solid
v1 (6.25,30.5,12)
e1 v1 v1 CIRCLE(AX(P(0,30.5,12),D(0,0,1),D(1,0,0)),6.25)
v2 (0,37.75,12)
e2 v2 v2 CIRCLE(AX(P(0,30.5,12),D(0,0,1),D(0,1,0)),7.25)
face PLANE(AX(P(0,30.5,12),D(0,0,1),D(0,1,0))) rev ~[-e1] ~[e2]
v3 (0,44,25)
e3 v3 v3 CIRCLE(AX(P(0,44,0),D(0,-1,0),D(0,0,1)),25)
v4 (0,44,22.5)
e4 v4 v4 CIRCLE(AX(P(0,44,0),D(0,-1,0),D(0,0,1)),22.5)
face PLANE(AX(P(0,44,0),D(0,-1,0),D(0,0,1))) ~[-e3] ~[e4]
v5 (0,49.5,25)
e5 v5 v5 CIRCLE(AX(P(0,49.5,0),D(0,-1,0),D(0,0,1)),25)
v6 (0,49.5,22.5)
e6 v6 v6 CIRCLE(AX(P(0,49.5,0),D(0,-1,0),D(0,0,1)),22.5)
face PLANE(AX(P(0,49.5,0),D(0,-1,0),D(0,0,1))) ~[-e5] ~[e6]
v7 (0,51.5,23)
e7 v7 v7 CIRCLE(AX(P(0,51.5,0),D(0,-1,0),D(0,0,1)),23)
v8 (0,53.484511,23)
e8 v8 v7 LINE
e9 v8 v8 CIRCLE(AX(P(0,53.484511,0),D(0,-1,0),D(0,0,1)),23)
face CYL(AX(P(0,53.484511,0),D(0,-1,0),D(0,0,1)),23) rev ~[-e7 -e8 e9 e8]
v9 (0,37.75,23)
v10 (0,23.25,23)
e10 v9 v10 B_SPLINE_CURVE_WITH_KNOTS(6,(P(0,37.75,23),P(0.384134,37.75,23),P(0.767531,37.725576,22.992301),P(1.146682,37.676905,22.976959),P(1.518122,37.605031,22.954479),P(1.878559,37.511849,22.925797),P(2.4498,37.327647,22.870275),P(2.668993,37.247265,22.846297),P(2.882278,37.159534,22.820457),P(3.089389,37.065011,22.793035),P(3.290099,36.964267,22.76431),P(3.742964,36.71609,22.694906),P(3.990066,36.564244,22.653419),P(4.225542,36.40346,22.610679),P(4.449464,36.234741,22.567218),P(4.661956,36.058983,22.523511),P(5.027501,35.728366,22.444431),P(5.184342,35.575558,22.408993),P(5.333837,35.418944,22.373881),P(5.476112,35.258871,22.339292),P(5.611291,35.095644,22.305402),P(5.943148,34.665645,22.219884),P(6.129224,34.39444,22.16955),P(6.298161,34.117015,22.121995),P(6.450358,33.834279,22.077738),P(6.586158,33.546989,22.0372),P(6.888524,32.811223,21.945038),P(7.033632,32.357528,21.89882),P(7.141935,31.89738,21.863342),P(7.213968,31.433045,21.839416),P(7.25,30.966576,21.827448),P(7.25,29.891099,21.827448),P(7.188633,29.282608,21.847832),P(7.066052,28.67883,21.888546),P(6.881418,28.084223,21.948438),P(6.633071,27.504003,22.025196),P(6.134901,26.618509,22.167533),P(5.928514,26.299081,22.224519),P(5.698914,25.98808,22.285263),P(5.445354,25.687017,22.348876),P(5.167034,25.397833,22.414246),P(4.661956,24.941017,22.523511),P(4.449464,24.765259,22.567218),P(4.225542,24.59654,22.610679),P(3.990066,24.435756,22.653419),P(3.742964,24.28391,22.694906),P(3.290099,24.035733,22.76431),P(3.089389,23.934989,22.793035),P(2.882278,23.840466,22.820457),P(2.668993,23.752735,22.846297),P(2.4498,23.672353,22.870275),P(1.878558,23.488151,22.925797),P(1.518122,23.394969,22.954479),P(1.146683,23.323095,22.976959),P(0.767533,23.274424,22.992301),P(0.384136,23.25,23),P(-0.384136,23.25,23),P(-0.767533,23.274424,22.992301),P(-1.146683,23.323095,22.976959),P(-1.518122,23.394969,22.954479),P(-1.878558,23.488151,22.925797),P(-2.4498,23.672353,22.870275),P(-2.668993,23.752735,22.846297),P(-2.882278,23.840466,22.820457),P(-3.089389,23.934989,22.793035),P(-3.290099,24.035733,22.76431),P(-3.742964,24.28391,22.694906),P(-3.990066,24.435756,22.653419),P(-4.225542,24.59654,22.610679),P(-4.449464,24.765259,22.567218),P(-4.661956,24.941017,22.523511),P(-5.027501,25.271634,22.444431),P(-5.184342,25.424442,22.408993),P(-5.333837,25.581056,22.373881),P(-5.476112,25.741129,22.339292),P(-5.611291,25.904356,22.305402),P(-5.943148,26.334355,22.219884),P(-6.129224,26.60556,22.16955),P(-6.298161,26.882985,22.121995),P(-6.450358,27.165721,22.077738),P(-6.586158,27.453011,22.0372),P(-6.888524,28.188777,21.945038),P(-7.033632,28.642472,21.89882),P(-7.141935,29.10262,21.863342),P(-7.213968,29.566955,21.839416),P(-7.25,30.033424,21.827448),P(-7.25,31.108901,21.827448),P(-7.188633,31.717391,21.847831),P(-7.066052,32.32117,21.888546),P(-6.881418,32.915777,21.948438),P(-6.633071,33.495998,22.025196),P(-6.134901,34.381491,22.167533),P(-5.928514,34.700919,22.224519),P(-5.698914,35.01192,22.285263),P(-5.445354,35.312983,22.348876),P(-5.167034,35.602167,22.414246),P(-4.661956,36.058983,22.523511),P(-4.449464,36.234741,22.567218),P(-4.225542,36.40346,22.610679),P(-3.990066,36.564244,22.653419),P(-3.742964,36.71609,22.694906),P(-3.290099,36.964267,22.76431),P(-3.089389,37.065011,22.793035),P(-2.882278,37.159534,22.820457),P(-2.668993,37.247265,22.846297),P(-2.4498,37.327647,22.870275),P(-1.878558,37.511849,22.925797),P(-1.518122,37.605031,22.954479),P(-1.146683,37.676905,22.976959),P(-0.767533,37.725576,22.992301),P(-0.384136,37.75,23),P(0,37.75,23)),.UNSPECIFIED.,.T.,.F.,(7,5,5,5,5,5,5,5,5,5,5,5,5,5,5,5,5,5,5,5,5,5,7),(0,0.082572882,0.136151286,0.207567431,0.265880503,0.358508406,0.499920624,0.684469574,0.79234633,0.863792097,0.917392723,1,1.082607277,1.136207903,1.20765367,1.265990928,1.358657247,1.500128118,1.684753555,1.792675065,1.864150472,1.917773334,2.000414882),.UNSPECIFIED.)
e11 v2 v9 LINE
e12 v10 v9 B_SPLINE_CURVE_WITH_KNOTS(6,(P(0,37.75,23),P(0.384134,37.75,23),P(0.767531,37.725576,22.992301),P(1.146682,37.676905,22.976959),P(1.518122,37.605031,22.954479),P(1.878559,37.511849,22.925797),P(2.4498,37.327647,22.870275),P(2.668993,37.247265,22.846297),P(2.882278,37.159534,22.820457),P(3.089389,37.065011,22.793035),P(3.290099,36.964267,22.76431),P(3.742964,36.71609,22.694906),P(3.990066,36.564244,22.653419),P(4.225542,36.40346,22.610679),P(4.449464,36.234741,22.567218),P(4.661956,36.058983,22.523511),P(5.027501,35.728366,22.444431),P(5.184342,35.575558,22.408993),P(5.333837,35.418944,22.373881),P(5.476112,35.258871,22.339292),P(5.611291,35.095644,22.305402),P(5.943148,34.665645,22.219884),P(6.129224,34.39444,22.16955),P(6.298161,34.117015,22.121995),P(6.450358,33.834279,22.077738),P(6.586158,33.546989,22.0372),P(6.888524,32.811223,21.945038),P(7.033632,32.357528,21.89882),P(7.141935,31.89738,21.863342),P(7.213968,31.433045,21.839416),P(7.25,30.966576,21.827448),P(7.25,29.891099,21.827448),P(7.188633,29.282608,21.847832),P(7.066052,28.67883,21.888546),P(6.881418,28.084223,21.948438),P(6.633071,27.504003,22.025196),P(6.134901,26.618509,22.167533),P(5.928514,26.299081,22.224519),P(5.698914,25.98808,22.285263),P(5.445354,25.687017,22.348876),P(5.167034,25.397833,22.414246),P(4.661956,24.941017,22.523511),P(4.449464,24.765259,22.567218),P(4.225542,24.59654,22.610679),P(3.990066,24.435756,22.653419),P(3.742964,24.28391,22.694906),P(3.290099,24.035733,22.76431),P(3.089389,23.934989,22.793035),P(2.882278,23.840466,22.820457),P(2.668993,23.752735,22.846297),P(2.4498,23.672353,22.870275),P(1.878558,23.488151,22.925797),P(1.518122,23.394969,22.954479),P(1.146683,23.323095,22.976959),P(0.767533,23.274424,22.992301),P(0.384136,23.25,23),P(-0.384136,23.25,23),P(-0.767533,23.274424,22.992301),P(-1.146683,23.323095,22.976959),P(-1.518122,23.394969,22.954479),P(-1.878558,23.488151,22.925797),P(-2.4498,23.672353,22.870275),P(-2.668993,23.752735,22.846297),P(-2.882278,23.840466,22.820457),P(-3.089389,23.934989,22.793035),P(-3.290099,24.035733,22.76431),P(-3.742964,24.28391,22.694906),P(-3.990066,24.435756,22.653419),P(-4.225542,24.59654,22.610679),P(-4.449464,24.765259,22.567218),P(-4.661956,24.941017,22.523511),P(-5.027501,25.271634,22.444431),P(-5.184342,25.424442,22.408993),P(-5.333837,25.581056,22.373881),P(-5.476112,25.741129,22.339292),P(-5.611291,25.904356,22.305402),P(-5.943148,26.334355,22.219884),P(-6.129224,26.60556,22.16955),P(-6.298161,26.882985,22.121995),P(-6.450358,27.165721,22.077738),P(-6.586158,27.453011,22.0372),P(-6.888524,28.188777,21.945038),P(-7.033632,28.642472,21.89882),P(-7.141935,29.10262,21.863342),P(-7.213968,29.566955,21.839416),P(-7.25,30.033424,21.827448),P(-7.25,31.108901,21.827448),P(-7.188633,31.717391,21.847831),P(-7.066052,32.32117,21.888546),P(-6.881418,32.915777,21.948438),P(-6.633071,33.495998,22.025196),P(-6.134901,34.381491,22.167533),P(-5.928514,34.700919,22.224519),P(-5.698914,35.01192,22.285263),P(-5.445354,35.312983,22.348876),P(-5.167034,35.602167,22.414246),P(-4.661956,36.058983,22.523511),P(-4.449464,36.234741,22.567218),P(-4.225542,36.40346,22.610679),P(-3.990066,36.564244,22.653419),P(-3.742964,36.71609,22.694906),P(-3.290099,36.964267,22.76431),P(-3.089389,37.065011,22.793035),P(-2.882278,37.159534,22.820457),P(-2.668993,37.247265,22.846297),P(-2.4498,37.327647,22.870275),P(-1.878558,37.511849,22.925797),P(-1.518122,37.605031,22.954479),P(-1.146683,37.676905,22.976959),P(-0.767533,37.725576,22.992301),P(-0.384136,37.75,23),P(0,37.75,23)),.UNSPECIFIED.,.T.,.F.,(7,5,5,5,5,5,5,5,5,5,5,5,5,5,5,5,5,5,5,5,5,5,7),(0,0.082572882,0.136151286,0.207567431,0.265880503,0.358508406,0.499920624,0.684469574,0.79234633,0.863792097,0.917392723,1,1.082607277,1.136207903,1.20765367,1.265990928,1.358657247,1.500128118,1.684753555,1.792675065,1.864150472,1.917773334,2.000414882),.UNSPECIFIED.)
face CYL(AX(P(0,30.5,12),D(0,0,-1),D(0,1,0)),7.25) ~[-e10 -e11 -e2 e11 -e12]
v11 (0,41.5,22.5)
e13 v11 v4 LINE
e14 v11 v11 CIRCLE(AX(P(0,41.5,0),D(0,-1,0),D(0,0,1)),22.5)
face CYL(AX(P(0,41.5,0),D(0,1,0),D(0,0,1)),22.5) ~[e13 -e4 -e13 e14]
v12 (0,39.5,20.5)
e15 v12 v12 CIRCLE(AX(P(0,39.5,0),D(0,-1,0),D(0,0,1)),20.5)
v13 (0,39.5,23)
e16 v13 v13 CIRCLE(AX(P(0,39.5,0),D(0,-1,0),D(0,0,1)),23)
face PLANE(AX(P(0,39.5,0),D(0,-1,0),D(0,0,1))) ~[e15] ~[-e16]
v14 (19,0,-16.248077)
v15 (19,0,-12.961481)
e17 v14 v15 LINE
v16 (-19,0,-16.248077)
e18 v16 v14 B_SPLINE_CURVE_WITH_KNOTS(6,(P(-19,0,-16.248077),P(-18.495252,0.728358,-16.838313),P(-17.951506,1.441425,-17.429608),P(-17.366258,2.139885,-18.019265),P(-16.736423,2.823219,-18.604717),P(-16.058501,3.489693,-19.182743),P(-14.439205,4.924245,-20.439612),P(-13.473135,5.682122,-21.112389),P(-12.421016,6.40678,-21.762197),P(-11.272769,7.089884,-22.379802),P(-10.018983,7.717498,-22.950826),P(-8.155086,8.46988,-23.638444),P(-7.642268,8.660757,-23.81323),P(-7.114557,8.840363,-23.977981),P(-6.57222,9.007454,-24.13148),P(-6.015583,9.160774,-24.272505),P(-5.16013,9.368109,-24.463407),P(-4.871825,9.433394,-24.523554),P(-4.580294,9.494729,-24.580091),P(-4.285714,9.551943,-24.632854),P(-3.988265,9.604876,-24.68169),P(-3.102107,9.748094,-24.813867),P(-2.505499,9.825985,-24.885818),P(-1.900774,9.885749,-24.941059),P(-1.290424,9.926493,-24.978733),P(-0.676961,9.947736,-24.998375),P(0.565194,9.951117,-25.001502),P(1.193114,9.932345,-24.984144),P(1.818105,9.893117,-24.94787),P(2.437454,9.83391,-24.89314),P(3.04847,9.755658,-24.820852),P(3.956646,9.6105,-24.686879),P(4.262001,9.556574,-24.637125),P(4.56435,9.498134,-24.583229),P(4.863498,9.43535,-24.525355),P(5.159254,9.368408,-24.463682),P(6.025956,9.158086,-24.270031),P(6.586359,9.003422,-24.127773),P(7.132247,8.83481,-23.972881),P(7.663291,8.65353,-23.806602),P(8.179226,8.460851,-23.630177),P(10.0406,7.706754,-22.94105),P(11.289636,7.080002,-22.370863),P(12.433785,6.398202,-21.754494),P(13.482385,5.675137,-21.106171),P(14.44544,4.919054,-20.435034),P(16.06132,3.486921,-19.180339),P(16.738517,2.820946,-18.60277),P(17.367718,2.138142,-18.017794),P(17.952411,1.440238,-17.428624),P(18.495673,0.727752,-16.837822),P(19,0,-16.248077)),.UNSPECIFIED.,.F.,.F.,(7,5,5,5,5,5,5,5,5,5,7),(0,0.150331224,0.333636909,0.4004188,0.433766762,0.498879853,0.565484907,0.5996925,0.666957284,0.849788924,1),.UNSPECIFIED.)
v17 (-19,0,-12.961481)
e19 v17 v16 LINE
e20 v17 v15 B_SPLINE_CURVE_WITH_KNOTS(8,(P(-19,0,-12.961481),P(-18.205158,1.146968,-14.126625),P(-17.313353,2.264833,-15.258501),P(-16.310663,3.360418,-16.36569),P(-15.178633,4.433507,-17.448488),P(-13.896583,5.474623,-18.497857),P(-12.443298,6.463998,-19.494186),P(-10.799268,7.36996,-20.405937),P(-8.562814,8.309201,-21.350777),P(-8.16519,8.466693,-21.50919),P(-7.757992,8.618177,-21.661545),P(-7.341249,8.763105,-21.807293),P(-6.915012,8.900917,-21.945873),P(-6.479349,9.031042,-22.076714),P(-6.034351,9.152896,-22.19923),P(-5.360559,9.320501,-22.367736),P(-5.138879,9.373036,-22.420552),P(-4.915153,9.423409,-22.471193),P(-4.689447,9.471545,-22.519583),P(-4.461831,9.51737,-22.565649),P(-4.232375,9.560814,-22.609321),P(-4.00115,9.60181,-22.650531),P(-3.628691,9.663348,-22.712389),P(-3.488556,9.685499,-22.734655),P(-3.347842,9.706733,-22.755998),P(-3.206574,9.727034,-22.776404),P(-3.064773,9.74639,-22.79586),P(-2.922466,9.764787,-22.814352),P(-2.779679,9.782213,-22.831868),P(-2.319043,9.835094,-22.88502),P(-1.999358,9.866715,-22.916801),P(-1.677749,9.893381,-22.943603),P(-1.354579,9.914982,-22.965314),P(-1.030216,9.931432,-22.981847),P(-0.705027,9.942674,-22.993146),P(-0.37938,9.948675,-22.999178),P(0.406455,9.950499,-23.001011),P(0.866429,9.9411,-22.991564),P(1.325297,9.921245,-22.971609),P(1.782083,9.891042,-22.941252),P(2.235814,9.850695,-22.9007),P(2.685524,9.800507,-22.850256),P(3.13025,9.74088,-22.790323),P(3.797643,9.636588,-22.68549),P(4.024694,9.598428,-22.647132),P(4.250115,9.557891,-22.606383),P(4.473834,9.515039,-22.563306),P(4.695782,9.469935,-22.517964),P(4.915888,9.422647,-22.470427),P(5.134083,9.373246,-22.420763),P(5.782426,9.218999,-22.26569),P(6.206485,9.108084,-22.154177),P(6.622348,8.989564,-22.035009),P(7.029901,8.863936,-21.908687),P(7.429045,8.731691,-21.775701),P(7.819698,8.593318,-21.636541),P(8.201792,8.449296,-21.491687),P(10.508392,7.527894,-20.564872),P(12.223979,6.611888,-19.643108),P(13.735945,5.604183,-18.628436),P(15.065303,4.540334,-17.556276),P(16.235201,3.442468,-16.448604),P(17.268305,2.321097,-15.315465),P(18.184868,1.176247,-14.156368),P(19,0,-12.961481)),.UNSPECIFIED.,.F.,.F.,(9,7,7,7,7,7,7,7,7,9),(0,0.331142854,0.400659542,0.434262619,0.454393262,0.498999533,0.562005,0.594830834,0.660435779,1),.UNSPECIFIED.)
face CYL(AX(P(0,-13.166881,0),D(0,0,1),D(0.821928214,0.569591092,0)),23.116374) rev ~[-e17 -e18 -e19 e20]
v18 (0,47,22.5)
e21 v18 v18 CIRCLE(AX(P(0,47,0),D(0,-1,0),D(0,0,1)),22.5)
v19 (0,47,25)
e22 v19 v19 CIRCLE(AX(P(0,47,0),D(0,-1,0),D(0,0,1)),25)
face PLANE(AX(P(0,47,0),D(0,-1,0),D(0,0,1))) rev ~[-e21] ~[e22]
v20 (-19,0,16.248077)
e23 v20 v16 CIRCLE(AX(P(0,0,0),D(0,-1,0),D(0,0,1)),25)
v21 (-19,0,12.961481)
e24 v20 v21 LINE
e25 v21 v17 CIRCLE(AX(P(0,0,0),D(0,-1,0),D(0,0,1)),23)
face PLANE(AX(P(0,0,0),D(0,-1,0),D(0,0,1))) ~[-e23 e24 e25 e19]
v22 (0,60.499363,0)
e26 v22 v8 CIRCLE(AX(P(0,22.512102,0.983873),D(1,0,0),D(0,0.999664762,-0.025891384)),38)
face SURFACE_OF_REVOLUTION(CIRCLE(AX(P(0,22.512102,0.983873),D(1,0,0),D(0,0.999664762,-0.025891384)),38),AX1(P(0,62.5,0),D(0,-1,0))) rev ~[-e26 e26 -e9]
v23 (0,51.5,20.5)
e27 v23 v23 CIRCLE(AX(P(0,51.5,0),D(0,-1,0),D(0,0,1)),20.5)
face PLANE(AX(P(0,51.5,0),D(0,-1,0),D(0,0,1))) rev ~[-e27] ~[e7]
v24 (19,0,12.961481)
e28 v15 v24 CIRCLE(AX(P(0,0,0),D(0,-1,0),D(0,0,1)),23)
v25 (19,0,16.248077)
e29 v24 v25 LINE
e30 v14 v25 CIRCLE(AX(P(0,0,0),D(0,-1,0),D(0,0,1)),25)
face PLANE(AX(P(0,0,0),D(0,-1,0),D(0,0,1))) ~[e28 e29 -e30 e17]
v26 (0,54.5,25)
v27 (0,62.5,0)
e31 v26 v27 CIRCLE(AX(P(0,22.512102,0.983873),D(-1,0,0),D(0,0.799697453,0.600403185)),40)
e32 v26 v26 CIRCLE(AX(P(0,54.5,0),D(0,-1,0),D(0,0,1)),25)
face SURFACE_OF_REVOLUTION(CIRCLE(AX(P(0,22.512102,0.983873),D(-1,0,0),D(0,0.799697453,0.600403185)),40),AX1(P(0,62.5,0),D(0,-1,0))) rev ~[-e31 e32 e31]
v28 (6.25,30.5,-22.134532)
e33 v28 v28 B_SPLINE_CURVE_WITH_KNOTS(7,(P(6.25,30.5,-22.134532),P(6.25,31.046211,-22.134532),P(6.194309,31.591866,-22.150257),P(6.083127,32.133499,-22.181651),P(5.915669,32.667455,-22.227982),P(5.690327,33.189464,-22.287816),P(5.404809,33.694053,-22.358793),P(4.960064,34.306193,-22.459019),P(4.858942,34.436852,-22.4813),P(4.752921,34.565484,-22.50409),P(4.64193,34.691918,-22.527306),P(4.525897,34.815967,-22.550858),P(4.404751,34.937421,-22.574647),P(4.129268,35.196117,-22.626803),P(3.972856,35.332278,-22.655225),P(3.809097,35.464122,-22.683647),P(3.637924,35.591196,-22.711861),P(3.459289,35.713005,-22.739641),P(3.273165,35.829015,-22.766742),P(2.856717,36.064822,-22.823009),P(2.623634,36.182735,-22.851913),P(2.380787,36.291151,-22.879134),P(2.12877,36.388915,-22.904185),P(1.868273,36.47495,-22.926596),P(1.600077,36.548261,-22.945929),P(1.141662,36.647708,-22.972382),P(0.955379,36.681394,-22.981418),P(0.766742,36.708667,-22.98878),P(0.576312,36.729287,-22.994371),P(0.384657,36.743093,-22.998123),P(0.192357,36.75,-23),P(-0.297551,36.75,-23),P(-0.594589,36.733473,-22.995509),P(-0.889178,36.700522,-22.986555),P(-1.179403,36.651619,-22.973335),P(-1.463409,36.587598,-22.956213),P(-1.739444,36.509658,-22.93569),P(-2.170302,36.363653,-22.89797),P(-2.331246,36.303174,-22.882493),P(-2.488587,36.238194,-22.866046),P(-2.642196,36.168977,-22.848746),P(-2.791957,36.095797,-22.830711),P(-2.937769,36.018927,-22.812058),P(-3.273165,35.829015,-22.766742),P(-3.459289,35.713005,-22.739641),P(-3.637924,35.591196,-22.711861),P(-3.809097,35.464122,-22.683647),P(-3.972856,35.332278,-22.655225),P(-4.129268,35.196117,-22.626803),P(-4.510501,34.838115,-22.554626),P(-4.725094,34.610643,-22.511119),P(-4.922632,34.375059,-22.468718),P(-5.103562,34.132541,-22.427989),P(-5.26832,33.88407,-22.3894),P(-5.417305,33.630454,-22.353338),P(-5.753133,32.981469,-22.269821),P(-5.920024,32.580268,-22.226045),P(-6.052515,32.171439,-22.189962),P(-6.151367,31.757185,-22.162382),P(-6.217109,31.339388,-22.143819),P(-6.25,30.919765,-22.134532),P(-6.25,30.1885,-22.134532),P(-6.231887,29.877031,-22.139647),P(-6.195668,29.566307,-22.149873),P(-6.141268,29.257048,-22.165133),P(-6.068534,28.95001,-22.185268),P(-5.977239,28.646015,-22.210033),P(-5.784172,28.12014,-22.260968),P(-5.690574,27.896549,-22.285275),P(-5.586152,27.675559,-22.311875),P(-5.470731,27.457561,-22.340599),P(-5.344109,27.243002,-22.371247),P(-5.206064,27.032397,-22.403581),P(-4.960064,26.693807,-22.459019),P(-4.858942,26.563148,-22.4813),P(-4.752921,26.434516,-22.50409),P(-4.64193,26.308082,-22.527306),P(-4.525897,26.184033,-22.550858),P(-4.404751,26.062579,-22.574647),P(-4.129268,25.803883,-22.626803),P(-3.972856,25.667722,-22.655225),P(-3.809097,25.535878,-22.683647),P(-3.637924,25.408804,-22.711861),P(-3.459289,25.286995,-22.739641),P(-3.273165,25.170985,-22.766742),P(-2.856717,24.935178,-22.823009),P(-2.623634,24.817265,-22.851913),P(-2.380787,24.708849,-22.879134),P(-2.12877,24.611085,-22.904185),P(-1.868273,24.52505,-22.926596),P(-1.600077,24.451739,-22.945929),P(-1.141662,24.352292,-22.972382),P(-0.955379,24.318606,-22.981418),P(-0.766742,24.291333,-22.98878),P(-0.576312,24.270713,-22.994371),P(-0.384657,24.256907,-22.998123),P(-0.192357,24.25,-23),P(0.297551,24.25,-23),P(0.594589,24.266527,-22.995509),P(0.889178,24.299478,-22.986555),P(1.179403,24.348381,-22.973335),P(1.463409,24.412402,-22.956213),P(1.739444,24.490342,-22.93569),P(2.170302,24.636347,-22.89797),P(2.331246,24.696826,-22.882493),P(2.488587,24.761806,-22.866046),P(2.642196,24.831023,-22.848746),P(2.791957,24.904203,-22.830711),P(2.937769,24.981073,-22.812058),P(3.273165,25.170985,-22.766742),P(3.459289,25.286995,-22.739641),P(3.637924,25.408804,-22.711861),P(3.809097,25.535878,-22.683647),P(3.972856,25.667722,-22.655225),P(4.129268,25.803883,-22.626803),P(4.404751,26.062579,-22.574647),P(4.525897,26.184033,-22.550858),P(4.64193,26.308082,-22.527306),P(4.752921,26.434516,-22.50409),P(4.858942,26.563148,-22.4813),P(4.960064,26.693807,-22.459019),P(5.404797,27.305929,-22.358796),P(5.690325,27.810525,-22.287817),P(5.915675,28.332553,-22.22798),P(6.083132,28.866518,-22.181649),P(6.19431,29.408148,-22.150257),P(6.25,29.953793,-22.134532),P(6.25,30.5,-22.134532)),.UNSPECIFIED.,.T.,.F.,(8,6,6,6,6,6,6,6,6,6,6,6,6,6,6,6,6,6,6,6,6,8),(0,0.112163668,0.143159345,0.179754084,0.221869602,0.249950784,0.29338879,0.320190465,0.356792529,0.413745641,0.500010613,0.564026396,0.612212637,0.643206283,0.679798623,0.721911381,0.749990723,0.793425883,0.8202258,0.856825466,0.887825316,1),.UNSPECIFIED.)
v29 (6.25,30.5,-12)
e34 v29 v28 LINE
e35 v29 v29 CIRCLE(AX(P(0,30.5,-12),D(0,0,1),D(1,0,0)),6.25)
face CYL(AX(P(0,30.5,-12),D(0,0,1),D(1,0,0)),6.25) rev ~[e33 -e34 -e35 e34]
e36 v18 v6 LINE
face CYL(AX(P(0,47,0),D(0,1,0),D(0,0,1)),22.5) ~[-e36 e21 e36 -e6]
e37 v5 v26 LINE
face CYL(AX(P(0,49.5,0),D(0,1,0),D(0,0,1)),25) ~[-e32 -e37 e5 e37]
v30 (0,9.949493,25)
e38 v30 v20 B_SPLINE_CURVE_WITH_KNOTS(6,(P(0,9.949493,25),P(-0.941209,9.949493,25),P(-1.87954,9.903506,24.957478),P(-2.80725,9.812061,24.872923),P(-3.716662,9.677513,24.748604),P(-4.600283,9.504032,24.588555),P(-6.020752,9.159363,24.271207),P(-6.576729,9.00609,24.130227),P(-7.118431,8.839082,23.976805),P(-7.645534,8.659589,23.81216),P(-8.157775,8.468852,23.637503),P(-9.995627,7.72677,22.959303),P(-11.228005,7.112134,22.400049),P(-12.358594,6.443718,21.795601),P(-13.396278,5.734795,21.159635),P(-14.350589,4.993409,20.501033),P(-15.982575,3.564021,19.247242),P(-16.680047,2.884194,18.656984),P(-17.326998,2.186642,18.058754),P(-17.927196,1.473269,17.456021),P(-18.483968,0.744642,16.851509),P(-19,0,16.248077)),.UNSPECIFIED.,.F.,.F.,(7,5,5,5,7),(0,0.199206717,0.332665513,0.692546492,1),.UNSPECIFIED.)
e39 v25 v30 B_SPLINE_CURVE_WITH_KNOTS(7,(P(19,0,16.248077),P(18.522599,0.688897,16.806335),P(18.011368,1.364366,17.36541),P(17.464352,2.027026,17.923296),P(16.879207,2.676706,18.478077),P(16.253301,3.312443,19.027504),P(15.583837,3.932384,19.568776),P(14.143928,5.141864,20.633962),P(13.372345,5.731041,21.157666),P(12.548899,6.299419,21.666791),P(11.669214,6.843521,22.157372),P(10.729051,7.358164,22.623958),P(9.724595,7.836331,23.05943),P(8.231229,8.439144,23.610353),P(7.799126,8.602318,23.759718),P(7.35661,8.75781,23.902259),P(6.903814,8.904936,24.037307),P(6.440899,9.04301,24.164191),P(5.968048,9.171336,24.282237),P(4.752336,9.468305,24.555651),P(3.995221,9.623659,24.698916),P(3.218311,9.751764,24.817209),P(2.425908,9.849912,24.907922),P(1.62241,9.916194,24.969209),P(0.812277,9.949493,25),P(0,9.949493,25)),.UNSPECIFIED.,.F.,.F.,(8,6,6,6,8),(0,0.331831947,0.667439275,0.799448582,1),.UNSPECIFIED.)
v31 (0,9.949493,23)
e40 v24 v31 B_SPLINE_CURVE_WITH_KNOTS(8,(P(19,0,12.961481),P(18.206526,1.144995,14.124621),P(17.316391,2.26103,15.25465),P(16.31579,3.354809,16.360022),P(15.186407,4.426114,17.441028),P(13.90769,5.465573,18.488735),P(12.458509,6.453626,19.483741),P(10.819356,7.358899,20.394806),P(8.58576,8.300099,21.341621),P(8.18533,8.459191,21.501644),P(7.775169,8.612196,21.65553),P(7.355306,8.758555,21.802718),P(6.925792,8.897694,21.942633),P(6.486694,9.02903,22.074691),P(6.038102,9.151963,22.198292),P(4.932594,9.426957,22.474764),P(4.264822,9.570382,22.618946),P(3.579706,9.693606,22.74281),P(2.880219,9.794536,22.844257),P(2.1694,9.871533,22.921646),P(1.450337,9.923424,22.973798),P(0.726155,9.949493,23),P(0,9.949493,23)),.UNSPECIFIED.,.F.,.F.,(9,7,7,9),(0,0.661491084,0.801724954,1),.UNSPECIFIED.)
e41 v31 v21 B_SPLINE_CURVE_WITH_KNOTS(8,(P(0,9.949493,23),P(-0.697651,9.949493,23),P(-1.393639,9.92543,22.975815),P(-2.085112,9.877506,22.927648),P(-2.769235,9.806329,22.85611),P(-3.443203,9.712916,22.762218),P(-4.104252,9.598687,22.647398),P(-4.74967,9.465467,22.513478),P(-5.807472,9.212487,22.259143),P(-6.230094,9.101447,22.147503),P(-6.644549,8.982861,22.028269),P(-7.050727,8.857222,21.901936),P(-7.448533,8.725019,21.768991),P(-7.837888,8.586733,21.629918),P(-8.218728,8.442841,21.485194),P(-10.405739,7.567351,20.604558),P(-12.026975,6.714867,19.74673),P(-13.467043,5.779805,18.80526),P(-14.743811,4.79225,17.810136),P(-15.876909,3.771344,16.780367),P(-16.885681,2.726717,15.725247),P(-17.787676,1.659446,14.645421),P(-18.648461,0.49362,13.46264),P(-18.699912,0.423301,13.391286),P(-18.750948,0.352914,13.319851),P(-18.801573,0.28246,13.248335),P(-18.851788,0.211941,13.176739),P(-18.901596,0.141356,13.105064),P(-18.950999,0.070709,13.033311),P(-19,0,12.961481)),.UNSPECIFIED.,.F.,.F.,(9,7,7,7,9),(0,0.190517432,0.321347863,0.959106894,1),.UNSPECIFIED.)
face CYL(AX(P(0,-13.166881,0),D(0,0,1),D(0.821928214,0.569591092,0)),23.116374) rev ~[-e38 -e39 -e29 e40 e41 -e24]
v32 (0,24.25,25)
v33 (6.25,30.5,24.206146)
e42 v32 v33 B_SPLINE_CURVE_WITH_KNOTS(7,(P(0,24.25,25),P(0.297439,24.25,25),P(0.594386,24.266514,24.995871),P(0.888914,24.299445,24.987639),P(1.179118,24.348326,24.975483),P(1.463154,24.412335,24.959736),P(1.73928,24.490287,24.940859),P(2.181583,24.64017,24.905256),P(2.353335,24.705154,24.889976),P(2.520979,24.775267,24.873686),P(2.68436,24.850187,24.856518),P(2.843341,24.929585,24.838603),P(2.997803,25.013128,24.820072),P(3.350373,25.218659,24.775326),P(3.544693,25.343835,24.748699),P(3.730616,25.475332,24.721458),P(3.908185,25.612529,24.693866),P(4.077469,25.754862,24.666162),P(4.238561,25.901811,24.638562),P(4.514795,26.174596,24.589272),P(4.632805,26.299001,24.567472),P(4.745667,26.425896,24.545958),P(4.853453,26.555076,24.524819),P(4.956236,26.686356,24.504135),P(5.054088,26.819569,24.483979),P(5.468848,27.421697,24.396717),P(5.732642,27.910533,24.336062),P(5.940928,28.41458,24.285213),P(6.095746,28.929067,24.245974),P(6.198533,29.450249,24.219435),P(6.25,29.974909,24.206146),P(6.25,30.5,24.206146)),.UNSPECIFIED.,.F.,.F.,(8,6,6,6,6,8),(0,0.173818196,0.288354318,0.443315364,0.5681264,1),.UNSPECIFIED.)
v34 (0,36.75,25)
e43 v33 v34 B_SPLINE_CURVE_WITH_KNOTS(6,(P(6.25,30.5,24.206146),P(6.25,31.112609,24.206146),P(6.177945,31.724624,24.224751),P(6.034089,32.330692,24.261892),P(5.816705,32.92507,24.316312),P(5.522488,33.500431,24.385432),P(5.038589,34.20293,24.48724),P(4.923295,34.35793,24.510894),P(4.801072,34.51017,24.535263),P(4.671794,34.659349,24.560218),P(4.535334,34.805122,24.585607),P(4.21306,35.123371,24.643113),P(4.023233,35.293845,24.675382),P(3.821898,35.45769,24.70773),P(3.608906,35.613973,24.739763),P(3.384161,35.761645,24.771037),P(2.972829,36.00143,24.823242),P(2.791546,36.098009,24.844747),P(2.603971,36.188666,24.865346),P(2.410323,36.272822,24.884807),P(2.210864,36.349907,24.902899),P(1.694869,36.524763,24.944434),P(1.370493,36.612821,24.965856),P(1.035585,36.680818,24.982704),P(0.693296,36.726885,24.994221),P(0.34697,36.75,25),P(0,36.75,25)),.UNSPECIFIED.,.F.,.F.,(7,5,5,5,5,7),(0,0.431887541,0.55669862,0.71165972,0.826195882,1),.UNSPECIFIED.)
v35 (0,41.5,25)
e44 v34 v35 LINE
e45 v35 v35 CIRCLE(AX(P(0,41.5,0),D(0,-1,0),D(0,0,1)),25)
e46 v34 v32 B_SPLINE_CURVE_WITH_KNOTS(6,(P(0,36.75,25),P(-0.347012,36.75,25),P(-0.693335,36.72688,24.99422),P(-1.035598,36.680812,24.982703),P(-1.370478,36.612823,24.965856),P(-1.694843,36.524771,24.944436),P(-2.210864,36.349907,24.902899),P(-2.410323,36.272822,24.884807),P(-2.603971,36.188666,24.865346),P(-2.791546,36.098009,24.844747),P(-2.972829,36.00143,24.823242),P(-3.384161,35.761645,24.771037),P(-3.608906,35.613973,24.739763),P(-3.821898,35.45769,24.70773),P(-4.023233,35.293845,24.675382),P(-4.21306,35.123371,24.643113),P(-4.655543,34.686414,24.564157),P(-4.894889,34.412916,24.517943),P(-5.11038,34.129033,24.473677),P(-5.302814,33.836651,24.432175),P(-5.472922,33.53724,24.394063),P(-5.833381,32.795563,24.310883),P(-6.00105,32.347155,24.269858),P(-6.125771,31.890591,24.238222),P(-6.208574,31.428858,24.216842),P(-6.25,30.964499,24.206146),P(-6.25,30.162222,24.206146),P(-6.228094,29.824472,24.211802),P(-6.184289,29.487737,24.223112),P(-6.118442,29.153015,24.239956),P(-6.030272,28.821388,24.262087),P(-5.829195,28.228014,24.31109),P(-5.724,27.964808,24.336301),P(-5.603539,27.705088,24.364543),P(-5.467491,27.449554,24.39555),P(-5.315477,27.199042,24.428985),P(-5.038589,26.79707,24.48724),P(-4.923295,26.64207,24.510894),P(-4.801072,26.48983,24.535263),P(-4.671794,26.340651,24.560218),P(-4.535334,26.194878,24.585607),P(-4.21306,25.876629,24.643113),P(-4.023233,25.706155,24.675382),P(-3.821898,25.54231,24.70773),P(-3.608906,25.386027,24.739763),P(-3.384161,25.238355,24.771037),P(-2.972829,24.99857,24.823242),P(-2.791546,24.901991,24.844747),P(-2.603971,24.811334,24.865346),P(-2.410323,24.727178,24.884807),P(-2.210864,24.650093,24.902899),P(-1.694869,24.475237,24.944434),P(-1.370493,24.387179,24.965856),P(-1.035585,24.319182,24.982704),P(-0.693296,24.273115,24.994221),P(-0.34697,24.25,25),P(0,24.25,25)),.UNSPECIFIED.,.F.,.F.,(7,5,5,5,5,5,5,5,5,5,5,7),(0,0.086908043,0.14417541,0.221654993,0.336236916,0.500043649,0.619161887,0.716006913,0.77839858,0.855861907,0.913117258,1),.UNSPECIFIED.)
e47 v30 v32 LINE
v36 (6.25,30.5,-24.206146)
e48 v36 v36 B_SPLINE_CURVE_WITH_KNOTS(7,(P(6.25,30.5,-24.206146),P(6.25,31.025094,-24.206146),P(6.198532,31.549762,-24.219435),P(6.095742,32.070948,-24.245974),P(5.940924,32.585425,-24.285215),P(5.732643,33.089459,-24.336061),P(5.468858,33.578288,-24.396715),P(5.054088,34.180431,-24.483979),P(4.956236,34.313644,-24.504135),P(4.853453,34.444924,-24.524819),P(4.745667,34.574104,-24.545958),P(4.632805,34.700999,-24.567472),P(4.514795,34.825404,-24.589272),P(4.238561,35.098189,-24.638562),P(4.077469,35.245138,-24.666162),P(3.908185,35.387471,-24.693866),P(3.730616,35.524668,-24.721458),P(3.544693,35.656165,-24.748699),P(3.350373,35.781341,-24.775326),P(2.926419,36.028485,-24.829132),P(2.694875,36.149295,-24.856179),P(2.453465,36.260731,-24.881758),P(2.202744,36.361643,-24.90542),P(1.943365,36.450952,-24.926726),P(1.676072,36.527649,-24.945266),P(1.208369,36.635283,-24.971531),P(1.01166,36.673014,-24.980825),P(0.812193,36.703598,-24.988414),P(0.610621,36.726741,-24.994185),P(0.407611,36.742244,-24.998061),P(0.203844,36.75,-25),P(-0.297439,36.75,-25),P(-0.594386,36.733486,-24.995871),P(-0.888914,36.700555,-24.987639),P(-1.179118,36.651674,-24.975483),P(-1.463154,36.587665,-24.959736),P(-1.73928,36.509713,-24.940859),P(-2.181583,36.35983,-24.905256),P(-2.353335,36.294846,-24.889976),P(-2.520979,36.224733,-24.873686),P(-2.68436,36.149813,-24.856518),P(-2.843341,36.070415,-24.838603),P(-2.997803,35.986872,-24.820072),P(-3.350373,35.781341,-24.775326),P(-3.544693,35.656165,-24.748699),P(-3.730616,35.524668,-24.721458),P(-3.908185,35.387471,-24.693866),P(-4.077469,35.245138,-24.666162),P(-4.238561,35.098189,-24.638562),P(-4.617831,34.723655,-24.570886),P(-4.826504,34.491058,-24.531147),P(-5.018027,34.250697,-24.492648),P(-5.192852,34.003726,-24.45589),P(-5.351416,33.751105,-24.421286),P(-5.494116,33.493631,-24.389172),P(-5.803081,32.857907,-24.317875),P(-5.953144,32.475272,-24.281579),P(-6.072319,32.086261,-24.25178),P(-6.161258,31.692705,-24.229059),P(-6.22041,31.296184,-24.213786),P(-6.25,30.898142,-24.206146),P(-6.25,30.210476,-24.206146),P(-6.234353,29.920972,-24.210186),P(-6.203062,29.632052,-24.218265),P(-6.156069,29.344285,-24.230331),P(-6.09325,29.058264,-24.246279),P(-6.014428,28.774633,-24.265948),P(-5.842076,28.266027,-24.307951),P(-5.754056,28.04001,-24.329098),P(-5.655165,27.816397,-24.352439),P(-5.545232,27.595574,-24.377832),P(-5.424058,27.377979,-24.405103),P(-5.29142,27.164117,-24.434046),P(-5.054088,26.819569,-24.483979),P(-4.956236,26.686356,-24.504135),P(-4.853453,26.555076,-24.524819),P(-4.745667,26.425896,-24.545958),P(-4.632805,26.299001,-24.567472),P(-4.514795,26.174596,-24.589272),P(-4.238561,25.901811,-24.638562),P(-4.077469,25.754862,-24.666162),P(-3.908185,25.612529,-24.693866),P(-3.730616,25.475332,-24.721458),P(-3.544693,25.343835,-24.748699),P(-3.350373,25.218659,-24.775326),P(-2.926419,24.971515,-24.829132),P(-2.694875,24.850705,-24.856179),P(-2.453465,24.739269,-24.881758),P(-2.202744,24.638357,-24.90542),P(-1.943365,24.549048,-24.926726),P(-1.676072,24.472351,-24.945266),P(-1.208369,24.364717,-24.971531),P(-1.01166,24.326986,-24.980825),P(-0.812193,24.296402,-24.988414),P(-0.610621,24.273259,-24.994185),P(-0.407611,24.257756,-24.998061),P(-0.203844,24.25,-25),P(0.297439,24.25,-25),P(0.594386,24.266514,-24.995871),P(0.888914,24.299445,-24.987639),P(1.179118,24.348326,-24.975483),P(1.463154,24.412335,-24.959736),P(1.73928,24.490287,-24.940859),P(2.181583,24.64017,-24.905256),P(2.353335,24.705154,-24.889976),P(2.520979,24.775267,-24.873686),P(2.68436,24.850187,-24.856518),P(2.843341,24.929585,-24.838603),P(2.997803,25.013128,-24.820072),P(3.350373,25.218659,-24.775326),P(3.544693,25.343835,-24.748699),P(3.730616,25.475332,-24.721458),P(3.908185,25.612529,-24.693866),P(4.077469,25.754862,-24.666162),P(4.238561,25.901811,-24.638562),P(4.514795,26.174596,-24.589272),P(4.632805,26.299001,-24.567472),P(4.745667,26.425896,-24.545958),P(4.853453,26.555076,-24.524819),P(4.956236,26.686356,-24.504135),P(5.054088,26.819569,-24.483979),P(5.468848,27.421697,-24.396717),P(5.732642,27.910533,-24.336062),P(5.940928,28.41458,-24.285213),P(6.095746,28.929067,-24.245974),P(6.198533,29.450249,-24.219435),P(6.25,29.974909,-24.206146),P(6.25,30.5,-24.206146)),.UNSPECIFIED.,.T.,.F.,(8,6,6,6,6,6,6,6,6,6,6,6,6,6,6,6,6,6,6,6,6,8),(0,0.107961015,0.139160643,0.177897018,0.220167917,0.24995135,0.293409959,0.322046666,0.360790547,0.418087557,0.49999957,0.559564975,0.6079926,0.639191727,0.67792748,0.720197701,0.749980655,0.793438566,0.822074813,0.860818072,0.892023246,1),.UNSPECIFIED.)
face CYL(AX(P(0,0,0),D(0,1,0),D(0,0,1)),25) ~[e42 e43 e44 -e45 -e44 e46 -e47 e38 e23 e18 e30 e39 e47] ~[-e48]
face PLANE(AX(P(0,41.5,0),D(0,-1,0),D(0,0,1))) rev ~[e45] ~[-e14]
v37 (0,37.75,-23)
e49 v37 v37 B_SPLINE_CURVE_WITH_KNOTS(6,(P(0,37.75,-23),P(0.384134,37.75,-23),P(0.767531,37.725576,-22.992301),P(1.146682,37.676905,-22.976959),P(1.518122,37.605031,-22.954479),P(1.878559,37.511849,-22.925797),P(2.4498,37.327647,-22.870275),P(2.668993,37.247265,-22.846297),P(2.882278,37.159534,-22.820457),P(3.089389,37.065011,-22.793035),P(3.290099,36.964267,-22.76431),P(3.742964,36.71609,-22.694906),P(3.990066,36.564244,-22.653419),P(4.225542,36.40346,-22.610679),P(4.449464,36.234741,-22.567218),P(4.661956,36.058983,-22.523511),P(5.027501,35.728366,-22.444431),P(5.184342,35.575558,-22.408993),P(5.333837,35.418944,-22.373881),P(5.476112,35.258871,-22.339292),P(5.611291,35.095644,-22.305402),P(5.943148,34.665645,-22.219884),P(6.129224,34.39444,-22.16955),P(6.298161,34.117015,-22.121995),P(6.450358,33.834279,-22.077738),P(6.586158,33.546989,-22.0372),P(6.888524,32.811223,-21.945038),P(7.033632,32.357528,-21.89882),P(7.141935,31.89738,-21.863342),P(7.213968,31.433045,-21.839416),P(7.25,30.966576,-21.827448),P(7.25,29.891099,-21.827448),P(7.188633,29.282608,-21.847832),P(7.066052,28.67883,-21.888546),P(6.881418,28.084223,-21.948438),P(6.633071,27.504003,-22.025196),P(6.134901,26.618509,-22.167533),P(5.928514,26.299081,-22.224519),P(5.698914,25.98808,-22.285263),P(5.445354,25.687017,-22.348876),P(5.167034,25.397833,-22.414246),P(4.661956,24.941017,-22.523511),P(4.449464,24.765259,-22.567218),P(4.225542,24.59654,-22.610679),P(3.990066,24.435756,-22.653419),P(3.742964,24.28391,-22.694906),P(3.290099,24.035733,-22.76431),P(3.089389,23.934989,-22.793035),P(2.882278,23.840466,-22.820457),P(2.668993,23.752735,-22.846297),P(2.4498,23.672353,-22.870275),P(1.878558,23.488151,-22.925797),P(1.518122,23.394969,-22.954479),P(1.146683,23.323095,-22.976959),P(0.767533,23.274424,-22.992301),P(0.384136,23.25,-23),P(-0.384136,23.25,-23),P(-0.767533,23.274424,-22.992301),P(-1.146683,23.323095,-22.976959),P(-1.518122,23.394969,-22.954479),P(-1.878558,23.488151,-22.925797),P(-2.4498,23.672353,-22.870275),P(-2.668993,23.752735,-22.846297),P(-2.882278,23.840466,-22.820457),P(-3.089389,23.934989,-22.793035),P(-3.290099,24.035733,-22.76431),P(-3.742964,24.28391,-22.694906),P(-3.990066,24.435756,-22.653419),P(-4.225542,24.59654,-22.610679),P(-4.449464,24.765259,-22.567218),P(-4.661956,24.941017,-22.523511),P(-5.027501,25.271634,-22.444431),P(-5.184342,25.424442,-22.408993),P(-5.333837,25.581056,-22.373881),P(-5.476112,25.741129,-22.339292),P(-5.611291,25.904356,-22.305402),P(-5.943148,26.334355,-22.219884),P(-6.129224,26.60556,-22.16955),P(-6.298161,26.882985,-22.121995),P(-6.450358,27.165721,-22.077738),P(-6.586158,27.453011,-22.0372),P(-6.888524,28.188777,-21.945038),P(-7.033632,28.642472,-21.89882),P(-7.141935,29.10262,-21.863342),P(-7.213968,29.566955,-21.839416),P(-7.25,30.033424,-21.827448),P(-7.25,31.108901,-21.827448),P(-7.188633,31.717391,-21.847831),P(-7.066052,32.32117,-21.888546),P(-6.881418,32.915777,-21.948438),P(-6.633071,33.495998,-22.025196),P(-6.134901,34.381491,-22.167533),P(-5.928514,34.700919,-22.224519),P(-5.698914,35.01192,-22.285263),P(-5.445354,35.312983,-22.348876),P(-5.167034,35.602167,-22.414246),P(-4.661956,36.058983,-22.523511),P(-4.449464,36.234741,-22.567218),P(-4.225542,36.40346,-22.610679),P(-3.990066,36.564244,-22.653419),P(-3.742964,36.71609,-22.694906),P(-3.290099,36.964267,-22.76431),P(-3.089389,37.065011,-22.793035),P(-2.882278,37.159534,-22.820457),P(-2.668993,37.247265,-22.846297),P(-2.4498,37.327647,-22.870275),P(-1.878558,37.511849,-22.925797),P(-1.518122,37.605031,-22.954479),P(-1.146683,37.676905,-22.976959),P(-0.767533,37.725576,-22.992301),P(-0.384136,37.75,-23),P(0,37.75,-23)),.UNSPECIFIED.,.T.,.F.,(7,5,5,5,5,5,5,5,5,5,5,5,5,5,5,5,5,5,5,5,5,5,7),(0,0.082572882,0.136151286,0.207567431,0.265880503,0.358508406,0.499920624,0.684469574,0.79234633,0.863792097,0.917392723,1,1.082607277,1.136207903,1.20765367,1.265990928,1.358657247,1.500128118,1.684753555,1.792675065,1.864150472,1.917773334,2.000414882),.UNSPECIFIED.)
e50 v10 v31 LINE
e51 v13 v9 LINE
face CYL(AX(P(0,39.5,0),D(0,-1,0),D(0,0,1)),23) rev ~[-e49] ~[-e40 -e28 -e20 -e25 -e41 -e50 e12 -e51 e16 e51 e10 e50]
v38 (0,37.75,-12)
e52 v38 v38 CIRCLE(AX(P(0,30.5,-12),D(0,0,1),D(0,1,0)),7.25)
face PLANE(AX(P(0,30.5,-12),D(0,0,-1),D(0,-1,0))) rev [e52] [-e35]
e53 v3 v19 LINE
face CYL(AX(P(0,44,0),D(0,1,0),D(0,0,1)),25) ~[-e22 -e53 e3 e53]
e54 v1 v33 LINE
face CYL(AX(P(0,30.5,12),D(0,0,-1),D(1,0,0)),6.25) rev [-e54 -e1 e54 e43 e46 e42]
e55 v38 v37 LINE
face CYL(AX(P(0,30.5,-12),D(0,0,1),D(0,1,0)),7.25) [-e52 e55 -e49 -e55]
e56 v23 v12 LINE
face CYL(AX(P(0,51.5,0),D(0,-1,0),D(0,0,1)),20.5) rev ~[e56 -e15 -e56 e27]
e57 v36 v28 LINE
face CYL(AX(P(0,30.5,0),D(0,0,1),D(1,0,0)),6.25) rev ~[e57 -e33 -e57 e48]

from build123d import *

# Parameters (mm, degrees)
CUT_EXTRUDE1_DEPTH       = 70
SKETCH3_R                = 6.25
CUT_EXTRUDE2_DEPTH       = 70
BOSS_EXTRUDE2_REACH      = 78.823
BOSS_EXTRUDE2_END_RADIUS = 23
SKETCH4_R                = 7.25
SKETCH4_R_2              = 6.25


with BuildPart() as part:
    # Sketch1 → Revolve1 (revolve)
    with BuildSketch(Plane.XY, mode=Mode.PRIVATE) as revolve1_sk:
        with BuildLine():
            Line((0, 62.5), (0, 60.49936285))
            ThreePointArc((0, 60.49936285), (12.069492637, 58.859165445), (23, 53.484511145))
            Line((23, 53.484511145), (23, 51.5))
            Line((23, 51.5), (20.5, 51.5))
            Line((20.5, 51.5), (20.5, 45.5))
            Line((20.5, 45.5), (20.5, 39.5))
            Line((20.5, 39.5), (23, 39.5))
            Line((23, 39.5), (23, 0))
            Line((23, 0), (25, 0))
            Line((25, 0), (25, 41.5))
            Line((25, 41.5), (22.5, 41.5))
            Line((22.5, 41.5), (22.5, 44))
            Line((22.5, 44), (25, 44))
            Line((25, 44), (25, 47))
            Line((25, 47), (22.5, 47))
            Line((22.5, 47), (22.5, 49.5))
            Line((22.5, 49.5), (25, 49.5))
            Line((25, 49.5), (25, 54.5))
            ThreePointArc((25, 54.5), (13.174901691, 60.609067785), (0, 62.5))
        make_face()
    revolve(revolve1_sk.sketch.rotate(Axis((0, 62.5, 0), (0, -1, 0)), 90), axis=Axis((0, 62.5, 0), (0, -1, 0)))

    # Sketch2 → Cut-Extrude1 (cut, symmetric)
    with BuildSketch(Plane.XY):
        with BuildLine():
            Line((-19, 0), (19, 0))
            ThreePointArc((19, 0), (0, 9.949493307), (-19, 0))
        make_face()
    extrude(amount=CUT_EXTRUDE1_DEPTH, both=True, mode=Mode.SUBTRACT)

    # Sketch3 → Cut-Extrude2 (cut, symmetric)
    with BuildSketch(Plane.XY):
        with Locations((0, 30.5)):
            Circle(SKETCH3_R)
    extrude(amount=CUT_EXTRUDE2_DEPTH, both=True, mode=Mode.SUBTRACT)

    # Boss-Extrude2: up to this cylinder (the profile starts inside it)
    boss_extrude2_end = Plane(origin=(0, 23.455061, 0), z_dir=(0, 1, 0)) * Cylinder(BOSS_EXTRUDE2_END_RADIUS, 204.646, mode=Mode.PRIVATE)
    # Sketch4 → Boss-Extrude2 (add, up to the surface)
    with BuildSketch(Plane.XY.offset(12), mode=Mode.PRIVATE) as boss_extrude2_sk1:
        with Locations(Location((0, 30.5, 0), (0, 0, 90))):
            Circle(SKETCH4_R)
        with Locations((0, 30.5)):
            Circle(SKETCH4_R_2, mode=Mode.SUBTRACT)
    boss_extrude2_tool1 = extrude(boss_extrude2_sk1.sketch, amount=BOSS_EXTRUDE2_REACH, mode=Mode.PRIVATE) & boss_extrude2_end
    boss_extrude2 = boss_extrude2_tool1.solids().sort_by_distance((0, 23.455061, 12))[0]
    add(boss_extrude2)

    # Mirror1: Boss-Extrude2 across plane
    add(boss_extrude2.mirror(Plane.XY))


solid = part.part
